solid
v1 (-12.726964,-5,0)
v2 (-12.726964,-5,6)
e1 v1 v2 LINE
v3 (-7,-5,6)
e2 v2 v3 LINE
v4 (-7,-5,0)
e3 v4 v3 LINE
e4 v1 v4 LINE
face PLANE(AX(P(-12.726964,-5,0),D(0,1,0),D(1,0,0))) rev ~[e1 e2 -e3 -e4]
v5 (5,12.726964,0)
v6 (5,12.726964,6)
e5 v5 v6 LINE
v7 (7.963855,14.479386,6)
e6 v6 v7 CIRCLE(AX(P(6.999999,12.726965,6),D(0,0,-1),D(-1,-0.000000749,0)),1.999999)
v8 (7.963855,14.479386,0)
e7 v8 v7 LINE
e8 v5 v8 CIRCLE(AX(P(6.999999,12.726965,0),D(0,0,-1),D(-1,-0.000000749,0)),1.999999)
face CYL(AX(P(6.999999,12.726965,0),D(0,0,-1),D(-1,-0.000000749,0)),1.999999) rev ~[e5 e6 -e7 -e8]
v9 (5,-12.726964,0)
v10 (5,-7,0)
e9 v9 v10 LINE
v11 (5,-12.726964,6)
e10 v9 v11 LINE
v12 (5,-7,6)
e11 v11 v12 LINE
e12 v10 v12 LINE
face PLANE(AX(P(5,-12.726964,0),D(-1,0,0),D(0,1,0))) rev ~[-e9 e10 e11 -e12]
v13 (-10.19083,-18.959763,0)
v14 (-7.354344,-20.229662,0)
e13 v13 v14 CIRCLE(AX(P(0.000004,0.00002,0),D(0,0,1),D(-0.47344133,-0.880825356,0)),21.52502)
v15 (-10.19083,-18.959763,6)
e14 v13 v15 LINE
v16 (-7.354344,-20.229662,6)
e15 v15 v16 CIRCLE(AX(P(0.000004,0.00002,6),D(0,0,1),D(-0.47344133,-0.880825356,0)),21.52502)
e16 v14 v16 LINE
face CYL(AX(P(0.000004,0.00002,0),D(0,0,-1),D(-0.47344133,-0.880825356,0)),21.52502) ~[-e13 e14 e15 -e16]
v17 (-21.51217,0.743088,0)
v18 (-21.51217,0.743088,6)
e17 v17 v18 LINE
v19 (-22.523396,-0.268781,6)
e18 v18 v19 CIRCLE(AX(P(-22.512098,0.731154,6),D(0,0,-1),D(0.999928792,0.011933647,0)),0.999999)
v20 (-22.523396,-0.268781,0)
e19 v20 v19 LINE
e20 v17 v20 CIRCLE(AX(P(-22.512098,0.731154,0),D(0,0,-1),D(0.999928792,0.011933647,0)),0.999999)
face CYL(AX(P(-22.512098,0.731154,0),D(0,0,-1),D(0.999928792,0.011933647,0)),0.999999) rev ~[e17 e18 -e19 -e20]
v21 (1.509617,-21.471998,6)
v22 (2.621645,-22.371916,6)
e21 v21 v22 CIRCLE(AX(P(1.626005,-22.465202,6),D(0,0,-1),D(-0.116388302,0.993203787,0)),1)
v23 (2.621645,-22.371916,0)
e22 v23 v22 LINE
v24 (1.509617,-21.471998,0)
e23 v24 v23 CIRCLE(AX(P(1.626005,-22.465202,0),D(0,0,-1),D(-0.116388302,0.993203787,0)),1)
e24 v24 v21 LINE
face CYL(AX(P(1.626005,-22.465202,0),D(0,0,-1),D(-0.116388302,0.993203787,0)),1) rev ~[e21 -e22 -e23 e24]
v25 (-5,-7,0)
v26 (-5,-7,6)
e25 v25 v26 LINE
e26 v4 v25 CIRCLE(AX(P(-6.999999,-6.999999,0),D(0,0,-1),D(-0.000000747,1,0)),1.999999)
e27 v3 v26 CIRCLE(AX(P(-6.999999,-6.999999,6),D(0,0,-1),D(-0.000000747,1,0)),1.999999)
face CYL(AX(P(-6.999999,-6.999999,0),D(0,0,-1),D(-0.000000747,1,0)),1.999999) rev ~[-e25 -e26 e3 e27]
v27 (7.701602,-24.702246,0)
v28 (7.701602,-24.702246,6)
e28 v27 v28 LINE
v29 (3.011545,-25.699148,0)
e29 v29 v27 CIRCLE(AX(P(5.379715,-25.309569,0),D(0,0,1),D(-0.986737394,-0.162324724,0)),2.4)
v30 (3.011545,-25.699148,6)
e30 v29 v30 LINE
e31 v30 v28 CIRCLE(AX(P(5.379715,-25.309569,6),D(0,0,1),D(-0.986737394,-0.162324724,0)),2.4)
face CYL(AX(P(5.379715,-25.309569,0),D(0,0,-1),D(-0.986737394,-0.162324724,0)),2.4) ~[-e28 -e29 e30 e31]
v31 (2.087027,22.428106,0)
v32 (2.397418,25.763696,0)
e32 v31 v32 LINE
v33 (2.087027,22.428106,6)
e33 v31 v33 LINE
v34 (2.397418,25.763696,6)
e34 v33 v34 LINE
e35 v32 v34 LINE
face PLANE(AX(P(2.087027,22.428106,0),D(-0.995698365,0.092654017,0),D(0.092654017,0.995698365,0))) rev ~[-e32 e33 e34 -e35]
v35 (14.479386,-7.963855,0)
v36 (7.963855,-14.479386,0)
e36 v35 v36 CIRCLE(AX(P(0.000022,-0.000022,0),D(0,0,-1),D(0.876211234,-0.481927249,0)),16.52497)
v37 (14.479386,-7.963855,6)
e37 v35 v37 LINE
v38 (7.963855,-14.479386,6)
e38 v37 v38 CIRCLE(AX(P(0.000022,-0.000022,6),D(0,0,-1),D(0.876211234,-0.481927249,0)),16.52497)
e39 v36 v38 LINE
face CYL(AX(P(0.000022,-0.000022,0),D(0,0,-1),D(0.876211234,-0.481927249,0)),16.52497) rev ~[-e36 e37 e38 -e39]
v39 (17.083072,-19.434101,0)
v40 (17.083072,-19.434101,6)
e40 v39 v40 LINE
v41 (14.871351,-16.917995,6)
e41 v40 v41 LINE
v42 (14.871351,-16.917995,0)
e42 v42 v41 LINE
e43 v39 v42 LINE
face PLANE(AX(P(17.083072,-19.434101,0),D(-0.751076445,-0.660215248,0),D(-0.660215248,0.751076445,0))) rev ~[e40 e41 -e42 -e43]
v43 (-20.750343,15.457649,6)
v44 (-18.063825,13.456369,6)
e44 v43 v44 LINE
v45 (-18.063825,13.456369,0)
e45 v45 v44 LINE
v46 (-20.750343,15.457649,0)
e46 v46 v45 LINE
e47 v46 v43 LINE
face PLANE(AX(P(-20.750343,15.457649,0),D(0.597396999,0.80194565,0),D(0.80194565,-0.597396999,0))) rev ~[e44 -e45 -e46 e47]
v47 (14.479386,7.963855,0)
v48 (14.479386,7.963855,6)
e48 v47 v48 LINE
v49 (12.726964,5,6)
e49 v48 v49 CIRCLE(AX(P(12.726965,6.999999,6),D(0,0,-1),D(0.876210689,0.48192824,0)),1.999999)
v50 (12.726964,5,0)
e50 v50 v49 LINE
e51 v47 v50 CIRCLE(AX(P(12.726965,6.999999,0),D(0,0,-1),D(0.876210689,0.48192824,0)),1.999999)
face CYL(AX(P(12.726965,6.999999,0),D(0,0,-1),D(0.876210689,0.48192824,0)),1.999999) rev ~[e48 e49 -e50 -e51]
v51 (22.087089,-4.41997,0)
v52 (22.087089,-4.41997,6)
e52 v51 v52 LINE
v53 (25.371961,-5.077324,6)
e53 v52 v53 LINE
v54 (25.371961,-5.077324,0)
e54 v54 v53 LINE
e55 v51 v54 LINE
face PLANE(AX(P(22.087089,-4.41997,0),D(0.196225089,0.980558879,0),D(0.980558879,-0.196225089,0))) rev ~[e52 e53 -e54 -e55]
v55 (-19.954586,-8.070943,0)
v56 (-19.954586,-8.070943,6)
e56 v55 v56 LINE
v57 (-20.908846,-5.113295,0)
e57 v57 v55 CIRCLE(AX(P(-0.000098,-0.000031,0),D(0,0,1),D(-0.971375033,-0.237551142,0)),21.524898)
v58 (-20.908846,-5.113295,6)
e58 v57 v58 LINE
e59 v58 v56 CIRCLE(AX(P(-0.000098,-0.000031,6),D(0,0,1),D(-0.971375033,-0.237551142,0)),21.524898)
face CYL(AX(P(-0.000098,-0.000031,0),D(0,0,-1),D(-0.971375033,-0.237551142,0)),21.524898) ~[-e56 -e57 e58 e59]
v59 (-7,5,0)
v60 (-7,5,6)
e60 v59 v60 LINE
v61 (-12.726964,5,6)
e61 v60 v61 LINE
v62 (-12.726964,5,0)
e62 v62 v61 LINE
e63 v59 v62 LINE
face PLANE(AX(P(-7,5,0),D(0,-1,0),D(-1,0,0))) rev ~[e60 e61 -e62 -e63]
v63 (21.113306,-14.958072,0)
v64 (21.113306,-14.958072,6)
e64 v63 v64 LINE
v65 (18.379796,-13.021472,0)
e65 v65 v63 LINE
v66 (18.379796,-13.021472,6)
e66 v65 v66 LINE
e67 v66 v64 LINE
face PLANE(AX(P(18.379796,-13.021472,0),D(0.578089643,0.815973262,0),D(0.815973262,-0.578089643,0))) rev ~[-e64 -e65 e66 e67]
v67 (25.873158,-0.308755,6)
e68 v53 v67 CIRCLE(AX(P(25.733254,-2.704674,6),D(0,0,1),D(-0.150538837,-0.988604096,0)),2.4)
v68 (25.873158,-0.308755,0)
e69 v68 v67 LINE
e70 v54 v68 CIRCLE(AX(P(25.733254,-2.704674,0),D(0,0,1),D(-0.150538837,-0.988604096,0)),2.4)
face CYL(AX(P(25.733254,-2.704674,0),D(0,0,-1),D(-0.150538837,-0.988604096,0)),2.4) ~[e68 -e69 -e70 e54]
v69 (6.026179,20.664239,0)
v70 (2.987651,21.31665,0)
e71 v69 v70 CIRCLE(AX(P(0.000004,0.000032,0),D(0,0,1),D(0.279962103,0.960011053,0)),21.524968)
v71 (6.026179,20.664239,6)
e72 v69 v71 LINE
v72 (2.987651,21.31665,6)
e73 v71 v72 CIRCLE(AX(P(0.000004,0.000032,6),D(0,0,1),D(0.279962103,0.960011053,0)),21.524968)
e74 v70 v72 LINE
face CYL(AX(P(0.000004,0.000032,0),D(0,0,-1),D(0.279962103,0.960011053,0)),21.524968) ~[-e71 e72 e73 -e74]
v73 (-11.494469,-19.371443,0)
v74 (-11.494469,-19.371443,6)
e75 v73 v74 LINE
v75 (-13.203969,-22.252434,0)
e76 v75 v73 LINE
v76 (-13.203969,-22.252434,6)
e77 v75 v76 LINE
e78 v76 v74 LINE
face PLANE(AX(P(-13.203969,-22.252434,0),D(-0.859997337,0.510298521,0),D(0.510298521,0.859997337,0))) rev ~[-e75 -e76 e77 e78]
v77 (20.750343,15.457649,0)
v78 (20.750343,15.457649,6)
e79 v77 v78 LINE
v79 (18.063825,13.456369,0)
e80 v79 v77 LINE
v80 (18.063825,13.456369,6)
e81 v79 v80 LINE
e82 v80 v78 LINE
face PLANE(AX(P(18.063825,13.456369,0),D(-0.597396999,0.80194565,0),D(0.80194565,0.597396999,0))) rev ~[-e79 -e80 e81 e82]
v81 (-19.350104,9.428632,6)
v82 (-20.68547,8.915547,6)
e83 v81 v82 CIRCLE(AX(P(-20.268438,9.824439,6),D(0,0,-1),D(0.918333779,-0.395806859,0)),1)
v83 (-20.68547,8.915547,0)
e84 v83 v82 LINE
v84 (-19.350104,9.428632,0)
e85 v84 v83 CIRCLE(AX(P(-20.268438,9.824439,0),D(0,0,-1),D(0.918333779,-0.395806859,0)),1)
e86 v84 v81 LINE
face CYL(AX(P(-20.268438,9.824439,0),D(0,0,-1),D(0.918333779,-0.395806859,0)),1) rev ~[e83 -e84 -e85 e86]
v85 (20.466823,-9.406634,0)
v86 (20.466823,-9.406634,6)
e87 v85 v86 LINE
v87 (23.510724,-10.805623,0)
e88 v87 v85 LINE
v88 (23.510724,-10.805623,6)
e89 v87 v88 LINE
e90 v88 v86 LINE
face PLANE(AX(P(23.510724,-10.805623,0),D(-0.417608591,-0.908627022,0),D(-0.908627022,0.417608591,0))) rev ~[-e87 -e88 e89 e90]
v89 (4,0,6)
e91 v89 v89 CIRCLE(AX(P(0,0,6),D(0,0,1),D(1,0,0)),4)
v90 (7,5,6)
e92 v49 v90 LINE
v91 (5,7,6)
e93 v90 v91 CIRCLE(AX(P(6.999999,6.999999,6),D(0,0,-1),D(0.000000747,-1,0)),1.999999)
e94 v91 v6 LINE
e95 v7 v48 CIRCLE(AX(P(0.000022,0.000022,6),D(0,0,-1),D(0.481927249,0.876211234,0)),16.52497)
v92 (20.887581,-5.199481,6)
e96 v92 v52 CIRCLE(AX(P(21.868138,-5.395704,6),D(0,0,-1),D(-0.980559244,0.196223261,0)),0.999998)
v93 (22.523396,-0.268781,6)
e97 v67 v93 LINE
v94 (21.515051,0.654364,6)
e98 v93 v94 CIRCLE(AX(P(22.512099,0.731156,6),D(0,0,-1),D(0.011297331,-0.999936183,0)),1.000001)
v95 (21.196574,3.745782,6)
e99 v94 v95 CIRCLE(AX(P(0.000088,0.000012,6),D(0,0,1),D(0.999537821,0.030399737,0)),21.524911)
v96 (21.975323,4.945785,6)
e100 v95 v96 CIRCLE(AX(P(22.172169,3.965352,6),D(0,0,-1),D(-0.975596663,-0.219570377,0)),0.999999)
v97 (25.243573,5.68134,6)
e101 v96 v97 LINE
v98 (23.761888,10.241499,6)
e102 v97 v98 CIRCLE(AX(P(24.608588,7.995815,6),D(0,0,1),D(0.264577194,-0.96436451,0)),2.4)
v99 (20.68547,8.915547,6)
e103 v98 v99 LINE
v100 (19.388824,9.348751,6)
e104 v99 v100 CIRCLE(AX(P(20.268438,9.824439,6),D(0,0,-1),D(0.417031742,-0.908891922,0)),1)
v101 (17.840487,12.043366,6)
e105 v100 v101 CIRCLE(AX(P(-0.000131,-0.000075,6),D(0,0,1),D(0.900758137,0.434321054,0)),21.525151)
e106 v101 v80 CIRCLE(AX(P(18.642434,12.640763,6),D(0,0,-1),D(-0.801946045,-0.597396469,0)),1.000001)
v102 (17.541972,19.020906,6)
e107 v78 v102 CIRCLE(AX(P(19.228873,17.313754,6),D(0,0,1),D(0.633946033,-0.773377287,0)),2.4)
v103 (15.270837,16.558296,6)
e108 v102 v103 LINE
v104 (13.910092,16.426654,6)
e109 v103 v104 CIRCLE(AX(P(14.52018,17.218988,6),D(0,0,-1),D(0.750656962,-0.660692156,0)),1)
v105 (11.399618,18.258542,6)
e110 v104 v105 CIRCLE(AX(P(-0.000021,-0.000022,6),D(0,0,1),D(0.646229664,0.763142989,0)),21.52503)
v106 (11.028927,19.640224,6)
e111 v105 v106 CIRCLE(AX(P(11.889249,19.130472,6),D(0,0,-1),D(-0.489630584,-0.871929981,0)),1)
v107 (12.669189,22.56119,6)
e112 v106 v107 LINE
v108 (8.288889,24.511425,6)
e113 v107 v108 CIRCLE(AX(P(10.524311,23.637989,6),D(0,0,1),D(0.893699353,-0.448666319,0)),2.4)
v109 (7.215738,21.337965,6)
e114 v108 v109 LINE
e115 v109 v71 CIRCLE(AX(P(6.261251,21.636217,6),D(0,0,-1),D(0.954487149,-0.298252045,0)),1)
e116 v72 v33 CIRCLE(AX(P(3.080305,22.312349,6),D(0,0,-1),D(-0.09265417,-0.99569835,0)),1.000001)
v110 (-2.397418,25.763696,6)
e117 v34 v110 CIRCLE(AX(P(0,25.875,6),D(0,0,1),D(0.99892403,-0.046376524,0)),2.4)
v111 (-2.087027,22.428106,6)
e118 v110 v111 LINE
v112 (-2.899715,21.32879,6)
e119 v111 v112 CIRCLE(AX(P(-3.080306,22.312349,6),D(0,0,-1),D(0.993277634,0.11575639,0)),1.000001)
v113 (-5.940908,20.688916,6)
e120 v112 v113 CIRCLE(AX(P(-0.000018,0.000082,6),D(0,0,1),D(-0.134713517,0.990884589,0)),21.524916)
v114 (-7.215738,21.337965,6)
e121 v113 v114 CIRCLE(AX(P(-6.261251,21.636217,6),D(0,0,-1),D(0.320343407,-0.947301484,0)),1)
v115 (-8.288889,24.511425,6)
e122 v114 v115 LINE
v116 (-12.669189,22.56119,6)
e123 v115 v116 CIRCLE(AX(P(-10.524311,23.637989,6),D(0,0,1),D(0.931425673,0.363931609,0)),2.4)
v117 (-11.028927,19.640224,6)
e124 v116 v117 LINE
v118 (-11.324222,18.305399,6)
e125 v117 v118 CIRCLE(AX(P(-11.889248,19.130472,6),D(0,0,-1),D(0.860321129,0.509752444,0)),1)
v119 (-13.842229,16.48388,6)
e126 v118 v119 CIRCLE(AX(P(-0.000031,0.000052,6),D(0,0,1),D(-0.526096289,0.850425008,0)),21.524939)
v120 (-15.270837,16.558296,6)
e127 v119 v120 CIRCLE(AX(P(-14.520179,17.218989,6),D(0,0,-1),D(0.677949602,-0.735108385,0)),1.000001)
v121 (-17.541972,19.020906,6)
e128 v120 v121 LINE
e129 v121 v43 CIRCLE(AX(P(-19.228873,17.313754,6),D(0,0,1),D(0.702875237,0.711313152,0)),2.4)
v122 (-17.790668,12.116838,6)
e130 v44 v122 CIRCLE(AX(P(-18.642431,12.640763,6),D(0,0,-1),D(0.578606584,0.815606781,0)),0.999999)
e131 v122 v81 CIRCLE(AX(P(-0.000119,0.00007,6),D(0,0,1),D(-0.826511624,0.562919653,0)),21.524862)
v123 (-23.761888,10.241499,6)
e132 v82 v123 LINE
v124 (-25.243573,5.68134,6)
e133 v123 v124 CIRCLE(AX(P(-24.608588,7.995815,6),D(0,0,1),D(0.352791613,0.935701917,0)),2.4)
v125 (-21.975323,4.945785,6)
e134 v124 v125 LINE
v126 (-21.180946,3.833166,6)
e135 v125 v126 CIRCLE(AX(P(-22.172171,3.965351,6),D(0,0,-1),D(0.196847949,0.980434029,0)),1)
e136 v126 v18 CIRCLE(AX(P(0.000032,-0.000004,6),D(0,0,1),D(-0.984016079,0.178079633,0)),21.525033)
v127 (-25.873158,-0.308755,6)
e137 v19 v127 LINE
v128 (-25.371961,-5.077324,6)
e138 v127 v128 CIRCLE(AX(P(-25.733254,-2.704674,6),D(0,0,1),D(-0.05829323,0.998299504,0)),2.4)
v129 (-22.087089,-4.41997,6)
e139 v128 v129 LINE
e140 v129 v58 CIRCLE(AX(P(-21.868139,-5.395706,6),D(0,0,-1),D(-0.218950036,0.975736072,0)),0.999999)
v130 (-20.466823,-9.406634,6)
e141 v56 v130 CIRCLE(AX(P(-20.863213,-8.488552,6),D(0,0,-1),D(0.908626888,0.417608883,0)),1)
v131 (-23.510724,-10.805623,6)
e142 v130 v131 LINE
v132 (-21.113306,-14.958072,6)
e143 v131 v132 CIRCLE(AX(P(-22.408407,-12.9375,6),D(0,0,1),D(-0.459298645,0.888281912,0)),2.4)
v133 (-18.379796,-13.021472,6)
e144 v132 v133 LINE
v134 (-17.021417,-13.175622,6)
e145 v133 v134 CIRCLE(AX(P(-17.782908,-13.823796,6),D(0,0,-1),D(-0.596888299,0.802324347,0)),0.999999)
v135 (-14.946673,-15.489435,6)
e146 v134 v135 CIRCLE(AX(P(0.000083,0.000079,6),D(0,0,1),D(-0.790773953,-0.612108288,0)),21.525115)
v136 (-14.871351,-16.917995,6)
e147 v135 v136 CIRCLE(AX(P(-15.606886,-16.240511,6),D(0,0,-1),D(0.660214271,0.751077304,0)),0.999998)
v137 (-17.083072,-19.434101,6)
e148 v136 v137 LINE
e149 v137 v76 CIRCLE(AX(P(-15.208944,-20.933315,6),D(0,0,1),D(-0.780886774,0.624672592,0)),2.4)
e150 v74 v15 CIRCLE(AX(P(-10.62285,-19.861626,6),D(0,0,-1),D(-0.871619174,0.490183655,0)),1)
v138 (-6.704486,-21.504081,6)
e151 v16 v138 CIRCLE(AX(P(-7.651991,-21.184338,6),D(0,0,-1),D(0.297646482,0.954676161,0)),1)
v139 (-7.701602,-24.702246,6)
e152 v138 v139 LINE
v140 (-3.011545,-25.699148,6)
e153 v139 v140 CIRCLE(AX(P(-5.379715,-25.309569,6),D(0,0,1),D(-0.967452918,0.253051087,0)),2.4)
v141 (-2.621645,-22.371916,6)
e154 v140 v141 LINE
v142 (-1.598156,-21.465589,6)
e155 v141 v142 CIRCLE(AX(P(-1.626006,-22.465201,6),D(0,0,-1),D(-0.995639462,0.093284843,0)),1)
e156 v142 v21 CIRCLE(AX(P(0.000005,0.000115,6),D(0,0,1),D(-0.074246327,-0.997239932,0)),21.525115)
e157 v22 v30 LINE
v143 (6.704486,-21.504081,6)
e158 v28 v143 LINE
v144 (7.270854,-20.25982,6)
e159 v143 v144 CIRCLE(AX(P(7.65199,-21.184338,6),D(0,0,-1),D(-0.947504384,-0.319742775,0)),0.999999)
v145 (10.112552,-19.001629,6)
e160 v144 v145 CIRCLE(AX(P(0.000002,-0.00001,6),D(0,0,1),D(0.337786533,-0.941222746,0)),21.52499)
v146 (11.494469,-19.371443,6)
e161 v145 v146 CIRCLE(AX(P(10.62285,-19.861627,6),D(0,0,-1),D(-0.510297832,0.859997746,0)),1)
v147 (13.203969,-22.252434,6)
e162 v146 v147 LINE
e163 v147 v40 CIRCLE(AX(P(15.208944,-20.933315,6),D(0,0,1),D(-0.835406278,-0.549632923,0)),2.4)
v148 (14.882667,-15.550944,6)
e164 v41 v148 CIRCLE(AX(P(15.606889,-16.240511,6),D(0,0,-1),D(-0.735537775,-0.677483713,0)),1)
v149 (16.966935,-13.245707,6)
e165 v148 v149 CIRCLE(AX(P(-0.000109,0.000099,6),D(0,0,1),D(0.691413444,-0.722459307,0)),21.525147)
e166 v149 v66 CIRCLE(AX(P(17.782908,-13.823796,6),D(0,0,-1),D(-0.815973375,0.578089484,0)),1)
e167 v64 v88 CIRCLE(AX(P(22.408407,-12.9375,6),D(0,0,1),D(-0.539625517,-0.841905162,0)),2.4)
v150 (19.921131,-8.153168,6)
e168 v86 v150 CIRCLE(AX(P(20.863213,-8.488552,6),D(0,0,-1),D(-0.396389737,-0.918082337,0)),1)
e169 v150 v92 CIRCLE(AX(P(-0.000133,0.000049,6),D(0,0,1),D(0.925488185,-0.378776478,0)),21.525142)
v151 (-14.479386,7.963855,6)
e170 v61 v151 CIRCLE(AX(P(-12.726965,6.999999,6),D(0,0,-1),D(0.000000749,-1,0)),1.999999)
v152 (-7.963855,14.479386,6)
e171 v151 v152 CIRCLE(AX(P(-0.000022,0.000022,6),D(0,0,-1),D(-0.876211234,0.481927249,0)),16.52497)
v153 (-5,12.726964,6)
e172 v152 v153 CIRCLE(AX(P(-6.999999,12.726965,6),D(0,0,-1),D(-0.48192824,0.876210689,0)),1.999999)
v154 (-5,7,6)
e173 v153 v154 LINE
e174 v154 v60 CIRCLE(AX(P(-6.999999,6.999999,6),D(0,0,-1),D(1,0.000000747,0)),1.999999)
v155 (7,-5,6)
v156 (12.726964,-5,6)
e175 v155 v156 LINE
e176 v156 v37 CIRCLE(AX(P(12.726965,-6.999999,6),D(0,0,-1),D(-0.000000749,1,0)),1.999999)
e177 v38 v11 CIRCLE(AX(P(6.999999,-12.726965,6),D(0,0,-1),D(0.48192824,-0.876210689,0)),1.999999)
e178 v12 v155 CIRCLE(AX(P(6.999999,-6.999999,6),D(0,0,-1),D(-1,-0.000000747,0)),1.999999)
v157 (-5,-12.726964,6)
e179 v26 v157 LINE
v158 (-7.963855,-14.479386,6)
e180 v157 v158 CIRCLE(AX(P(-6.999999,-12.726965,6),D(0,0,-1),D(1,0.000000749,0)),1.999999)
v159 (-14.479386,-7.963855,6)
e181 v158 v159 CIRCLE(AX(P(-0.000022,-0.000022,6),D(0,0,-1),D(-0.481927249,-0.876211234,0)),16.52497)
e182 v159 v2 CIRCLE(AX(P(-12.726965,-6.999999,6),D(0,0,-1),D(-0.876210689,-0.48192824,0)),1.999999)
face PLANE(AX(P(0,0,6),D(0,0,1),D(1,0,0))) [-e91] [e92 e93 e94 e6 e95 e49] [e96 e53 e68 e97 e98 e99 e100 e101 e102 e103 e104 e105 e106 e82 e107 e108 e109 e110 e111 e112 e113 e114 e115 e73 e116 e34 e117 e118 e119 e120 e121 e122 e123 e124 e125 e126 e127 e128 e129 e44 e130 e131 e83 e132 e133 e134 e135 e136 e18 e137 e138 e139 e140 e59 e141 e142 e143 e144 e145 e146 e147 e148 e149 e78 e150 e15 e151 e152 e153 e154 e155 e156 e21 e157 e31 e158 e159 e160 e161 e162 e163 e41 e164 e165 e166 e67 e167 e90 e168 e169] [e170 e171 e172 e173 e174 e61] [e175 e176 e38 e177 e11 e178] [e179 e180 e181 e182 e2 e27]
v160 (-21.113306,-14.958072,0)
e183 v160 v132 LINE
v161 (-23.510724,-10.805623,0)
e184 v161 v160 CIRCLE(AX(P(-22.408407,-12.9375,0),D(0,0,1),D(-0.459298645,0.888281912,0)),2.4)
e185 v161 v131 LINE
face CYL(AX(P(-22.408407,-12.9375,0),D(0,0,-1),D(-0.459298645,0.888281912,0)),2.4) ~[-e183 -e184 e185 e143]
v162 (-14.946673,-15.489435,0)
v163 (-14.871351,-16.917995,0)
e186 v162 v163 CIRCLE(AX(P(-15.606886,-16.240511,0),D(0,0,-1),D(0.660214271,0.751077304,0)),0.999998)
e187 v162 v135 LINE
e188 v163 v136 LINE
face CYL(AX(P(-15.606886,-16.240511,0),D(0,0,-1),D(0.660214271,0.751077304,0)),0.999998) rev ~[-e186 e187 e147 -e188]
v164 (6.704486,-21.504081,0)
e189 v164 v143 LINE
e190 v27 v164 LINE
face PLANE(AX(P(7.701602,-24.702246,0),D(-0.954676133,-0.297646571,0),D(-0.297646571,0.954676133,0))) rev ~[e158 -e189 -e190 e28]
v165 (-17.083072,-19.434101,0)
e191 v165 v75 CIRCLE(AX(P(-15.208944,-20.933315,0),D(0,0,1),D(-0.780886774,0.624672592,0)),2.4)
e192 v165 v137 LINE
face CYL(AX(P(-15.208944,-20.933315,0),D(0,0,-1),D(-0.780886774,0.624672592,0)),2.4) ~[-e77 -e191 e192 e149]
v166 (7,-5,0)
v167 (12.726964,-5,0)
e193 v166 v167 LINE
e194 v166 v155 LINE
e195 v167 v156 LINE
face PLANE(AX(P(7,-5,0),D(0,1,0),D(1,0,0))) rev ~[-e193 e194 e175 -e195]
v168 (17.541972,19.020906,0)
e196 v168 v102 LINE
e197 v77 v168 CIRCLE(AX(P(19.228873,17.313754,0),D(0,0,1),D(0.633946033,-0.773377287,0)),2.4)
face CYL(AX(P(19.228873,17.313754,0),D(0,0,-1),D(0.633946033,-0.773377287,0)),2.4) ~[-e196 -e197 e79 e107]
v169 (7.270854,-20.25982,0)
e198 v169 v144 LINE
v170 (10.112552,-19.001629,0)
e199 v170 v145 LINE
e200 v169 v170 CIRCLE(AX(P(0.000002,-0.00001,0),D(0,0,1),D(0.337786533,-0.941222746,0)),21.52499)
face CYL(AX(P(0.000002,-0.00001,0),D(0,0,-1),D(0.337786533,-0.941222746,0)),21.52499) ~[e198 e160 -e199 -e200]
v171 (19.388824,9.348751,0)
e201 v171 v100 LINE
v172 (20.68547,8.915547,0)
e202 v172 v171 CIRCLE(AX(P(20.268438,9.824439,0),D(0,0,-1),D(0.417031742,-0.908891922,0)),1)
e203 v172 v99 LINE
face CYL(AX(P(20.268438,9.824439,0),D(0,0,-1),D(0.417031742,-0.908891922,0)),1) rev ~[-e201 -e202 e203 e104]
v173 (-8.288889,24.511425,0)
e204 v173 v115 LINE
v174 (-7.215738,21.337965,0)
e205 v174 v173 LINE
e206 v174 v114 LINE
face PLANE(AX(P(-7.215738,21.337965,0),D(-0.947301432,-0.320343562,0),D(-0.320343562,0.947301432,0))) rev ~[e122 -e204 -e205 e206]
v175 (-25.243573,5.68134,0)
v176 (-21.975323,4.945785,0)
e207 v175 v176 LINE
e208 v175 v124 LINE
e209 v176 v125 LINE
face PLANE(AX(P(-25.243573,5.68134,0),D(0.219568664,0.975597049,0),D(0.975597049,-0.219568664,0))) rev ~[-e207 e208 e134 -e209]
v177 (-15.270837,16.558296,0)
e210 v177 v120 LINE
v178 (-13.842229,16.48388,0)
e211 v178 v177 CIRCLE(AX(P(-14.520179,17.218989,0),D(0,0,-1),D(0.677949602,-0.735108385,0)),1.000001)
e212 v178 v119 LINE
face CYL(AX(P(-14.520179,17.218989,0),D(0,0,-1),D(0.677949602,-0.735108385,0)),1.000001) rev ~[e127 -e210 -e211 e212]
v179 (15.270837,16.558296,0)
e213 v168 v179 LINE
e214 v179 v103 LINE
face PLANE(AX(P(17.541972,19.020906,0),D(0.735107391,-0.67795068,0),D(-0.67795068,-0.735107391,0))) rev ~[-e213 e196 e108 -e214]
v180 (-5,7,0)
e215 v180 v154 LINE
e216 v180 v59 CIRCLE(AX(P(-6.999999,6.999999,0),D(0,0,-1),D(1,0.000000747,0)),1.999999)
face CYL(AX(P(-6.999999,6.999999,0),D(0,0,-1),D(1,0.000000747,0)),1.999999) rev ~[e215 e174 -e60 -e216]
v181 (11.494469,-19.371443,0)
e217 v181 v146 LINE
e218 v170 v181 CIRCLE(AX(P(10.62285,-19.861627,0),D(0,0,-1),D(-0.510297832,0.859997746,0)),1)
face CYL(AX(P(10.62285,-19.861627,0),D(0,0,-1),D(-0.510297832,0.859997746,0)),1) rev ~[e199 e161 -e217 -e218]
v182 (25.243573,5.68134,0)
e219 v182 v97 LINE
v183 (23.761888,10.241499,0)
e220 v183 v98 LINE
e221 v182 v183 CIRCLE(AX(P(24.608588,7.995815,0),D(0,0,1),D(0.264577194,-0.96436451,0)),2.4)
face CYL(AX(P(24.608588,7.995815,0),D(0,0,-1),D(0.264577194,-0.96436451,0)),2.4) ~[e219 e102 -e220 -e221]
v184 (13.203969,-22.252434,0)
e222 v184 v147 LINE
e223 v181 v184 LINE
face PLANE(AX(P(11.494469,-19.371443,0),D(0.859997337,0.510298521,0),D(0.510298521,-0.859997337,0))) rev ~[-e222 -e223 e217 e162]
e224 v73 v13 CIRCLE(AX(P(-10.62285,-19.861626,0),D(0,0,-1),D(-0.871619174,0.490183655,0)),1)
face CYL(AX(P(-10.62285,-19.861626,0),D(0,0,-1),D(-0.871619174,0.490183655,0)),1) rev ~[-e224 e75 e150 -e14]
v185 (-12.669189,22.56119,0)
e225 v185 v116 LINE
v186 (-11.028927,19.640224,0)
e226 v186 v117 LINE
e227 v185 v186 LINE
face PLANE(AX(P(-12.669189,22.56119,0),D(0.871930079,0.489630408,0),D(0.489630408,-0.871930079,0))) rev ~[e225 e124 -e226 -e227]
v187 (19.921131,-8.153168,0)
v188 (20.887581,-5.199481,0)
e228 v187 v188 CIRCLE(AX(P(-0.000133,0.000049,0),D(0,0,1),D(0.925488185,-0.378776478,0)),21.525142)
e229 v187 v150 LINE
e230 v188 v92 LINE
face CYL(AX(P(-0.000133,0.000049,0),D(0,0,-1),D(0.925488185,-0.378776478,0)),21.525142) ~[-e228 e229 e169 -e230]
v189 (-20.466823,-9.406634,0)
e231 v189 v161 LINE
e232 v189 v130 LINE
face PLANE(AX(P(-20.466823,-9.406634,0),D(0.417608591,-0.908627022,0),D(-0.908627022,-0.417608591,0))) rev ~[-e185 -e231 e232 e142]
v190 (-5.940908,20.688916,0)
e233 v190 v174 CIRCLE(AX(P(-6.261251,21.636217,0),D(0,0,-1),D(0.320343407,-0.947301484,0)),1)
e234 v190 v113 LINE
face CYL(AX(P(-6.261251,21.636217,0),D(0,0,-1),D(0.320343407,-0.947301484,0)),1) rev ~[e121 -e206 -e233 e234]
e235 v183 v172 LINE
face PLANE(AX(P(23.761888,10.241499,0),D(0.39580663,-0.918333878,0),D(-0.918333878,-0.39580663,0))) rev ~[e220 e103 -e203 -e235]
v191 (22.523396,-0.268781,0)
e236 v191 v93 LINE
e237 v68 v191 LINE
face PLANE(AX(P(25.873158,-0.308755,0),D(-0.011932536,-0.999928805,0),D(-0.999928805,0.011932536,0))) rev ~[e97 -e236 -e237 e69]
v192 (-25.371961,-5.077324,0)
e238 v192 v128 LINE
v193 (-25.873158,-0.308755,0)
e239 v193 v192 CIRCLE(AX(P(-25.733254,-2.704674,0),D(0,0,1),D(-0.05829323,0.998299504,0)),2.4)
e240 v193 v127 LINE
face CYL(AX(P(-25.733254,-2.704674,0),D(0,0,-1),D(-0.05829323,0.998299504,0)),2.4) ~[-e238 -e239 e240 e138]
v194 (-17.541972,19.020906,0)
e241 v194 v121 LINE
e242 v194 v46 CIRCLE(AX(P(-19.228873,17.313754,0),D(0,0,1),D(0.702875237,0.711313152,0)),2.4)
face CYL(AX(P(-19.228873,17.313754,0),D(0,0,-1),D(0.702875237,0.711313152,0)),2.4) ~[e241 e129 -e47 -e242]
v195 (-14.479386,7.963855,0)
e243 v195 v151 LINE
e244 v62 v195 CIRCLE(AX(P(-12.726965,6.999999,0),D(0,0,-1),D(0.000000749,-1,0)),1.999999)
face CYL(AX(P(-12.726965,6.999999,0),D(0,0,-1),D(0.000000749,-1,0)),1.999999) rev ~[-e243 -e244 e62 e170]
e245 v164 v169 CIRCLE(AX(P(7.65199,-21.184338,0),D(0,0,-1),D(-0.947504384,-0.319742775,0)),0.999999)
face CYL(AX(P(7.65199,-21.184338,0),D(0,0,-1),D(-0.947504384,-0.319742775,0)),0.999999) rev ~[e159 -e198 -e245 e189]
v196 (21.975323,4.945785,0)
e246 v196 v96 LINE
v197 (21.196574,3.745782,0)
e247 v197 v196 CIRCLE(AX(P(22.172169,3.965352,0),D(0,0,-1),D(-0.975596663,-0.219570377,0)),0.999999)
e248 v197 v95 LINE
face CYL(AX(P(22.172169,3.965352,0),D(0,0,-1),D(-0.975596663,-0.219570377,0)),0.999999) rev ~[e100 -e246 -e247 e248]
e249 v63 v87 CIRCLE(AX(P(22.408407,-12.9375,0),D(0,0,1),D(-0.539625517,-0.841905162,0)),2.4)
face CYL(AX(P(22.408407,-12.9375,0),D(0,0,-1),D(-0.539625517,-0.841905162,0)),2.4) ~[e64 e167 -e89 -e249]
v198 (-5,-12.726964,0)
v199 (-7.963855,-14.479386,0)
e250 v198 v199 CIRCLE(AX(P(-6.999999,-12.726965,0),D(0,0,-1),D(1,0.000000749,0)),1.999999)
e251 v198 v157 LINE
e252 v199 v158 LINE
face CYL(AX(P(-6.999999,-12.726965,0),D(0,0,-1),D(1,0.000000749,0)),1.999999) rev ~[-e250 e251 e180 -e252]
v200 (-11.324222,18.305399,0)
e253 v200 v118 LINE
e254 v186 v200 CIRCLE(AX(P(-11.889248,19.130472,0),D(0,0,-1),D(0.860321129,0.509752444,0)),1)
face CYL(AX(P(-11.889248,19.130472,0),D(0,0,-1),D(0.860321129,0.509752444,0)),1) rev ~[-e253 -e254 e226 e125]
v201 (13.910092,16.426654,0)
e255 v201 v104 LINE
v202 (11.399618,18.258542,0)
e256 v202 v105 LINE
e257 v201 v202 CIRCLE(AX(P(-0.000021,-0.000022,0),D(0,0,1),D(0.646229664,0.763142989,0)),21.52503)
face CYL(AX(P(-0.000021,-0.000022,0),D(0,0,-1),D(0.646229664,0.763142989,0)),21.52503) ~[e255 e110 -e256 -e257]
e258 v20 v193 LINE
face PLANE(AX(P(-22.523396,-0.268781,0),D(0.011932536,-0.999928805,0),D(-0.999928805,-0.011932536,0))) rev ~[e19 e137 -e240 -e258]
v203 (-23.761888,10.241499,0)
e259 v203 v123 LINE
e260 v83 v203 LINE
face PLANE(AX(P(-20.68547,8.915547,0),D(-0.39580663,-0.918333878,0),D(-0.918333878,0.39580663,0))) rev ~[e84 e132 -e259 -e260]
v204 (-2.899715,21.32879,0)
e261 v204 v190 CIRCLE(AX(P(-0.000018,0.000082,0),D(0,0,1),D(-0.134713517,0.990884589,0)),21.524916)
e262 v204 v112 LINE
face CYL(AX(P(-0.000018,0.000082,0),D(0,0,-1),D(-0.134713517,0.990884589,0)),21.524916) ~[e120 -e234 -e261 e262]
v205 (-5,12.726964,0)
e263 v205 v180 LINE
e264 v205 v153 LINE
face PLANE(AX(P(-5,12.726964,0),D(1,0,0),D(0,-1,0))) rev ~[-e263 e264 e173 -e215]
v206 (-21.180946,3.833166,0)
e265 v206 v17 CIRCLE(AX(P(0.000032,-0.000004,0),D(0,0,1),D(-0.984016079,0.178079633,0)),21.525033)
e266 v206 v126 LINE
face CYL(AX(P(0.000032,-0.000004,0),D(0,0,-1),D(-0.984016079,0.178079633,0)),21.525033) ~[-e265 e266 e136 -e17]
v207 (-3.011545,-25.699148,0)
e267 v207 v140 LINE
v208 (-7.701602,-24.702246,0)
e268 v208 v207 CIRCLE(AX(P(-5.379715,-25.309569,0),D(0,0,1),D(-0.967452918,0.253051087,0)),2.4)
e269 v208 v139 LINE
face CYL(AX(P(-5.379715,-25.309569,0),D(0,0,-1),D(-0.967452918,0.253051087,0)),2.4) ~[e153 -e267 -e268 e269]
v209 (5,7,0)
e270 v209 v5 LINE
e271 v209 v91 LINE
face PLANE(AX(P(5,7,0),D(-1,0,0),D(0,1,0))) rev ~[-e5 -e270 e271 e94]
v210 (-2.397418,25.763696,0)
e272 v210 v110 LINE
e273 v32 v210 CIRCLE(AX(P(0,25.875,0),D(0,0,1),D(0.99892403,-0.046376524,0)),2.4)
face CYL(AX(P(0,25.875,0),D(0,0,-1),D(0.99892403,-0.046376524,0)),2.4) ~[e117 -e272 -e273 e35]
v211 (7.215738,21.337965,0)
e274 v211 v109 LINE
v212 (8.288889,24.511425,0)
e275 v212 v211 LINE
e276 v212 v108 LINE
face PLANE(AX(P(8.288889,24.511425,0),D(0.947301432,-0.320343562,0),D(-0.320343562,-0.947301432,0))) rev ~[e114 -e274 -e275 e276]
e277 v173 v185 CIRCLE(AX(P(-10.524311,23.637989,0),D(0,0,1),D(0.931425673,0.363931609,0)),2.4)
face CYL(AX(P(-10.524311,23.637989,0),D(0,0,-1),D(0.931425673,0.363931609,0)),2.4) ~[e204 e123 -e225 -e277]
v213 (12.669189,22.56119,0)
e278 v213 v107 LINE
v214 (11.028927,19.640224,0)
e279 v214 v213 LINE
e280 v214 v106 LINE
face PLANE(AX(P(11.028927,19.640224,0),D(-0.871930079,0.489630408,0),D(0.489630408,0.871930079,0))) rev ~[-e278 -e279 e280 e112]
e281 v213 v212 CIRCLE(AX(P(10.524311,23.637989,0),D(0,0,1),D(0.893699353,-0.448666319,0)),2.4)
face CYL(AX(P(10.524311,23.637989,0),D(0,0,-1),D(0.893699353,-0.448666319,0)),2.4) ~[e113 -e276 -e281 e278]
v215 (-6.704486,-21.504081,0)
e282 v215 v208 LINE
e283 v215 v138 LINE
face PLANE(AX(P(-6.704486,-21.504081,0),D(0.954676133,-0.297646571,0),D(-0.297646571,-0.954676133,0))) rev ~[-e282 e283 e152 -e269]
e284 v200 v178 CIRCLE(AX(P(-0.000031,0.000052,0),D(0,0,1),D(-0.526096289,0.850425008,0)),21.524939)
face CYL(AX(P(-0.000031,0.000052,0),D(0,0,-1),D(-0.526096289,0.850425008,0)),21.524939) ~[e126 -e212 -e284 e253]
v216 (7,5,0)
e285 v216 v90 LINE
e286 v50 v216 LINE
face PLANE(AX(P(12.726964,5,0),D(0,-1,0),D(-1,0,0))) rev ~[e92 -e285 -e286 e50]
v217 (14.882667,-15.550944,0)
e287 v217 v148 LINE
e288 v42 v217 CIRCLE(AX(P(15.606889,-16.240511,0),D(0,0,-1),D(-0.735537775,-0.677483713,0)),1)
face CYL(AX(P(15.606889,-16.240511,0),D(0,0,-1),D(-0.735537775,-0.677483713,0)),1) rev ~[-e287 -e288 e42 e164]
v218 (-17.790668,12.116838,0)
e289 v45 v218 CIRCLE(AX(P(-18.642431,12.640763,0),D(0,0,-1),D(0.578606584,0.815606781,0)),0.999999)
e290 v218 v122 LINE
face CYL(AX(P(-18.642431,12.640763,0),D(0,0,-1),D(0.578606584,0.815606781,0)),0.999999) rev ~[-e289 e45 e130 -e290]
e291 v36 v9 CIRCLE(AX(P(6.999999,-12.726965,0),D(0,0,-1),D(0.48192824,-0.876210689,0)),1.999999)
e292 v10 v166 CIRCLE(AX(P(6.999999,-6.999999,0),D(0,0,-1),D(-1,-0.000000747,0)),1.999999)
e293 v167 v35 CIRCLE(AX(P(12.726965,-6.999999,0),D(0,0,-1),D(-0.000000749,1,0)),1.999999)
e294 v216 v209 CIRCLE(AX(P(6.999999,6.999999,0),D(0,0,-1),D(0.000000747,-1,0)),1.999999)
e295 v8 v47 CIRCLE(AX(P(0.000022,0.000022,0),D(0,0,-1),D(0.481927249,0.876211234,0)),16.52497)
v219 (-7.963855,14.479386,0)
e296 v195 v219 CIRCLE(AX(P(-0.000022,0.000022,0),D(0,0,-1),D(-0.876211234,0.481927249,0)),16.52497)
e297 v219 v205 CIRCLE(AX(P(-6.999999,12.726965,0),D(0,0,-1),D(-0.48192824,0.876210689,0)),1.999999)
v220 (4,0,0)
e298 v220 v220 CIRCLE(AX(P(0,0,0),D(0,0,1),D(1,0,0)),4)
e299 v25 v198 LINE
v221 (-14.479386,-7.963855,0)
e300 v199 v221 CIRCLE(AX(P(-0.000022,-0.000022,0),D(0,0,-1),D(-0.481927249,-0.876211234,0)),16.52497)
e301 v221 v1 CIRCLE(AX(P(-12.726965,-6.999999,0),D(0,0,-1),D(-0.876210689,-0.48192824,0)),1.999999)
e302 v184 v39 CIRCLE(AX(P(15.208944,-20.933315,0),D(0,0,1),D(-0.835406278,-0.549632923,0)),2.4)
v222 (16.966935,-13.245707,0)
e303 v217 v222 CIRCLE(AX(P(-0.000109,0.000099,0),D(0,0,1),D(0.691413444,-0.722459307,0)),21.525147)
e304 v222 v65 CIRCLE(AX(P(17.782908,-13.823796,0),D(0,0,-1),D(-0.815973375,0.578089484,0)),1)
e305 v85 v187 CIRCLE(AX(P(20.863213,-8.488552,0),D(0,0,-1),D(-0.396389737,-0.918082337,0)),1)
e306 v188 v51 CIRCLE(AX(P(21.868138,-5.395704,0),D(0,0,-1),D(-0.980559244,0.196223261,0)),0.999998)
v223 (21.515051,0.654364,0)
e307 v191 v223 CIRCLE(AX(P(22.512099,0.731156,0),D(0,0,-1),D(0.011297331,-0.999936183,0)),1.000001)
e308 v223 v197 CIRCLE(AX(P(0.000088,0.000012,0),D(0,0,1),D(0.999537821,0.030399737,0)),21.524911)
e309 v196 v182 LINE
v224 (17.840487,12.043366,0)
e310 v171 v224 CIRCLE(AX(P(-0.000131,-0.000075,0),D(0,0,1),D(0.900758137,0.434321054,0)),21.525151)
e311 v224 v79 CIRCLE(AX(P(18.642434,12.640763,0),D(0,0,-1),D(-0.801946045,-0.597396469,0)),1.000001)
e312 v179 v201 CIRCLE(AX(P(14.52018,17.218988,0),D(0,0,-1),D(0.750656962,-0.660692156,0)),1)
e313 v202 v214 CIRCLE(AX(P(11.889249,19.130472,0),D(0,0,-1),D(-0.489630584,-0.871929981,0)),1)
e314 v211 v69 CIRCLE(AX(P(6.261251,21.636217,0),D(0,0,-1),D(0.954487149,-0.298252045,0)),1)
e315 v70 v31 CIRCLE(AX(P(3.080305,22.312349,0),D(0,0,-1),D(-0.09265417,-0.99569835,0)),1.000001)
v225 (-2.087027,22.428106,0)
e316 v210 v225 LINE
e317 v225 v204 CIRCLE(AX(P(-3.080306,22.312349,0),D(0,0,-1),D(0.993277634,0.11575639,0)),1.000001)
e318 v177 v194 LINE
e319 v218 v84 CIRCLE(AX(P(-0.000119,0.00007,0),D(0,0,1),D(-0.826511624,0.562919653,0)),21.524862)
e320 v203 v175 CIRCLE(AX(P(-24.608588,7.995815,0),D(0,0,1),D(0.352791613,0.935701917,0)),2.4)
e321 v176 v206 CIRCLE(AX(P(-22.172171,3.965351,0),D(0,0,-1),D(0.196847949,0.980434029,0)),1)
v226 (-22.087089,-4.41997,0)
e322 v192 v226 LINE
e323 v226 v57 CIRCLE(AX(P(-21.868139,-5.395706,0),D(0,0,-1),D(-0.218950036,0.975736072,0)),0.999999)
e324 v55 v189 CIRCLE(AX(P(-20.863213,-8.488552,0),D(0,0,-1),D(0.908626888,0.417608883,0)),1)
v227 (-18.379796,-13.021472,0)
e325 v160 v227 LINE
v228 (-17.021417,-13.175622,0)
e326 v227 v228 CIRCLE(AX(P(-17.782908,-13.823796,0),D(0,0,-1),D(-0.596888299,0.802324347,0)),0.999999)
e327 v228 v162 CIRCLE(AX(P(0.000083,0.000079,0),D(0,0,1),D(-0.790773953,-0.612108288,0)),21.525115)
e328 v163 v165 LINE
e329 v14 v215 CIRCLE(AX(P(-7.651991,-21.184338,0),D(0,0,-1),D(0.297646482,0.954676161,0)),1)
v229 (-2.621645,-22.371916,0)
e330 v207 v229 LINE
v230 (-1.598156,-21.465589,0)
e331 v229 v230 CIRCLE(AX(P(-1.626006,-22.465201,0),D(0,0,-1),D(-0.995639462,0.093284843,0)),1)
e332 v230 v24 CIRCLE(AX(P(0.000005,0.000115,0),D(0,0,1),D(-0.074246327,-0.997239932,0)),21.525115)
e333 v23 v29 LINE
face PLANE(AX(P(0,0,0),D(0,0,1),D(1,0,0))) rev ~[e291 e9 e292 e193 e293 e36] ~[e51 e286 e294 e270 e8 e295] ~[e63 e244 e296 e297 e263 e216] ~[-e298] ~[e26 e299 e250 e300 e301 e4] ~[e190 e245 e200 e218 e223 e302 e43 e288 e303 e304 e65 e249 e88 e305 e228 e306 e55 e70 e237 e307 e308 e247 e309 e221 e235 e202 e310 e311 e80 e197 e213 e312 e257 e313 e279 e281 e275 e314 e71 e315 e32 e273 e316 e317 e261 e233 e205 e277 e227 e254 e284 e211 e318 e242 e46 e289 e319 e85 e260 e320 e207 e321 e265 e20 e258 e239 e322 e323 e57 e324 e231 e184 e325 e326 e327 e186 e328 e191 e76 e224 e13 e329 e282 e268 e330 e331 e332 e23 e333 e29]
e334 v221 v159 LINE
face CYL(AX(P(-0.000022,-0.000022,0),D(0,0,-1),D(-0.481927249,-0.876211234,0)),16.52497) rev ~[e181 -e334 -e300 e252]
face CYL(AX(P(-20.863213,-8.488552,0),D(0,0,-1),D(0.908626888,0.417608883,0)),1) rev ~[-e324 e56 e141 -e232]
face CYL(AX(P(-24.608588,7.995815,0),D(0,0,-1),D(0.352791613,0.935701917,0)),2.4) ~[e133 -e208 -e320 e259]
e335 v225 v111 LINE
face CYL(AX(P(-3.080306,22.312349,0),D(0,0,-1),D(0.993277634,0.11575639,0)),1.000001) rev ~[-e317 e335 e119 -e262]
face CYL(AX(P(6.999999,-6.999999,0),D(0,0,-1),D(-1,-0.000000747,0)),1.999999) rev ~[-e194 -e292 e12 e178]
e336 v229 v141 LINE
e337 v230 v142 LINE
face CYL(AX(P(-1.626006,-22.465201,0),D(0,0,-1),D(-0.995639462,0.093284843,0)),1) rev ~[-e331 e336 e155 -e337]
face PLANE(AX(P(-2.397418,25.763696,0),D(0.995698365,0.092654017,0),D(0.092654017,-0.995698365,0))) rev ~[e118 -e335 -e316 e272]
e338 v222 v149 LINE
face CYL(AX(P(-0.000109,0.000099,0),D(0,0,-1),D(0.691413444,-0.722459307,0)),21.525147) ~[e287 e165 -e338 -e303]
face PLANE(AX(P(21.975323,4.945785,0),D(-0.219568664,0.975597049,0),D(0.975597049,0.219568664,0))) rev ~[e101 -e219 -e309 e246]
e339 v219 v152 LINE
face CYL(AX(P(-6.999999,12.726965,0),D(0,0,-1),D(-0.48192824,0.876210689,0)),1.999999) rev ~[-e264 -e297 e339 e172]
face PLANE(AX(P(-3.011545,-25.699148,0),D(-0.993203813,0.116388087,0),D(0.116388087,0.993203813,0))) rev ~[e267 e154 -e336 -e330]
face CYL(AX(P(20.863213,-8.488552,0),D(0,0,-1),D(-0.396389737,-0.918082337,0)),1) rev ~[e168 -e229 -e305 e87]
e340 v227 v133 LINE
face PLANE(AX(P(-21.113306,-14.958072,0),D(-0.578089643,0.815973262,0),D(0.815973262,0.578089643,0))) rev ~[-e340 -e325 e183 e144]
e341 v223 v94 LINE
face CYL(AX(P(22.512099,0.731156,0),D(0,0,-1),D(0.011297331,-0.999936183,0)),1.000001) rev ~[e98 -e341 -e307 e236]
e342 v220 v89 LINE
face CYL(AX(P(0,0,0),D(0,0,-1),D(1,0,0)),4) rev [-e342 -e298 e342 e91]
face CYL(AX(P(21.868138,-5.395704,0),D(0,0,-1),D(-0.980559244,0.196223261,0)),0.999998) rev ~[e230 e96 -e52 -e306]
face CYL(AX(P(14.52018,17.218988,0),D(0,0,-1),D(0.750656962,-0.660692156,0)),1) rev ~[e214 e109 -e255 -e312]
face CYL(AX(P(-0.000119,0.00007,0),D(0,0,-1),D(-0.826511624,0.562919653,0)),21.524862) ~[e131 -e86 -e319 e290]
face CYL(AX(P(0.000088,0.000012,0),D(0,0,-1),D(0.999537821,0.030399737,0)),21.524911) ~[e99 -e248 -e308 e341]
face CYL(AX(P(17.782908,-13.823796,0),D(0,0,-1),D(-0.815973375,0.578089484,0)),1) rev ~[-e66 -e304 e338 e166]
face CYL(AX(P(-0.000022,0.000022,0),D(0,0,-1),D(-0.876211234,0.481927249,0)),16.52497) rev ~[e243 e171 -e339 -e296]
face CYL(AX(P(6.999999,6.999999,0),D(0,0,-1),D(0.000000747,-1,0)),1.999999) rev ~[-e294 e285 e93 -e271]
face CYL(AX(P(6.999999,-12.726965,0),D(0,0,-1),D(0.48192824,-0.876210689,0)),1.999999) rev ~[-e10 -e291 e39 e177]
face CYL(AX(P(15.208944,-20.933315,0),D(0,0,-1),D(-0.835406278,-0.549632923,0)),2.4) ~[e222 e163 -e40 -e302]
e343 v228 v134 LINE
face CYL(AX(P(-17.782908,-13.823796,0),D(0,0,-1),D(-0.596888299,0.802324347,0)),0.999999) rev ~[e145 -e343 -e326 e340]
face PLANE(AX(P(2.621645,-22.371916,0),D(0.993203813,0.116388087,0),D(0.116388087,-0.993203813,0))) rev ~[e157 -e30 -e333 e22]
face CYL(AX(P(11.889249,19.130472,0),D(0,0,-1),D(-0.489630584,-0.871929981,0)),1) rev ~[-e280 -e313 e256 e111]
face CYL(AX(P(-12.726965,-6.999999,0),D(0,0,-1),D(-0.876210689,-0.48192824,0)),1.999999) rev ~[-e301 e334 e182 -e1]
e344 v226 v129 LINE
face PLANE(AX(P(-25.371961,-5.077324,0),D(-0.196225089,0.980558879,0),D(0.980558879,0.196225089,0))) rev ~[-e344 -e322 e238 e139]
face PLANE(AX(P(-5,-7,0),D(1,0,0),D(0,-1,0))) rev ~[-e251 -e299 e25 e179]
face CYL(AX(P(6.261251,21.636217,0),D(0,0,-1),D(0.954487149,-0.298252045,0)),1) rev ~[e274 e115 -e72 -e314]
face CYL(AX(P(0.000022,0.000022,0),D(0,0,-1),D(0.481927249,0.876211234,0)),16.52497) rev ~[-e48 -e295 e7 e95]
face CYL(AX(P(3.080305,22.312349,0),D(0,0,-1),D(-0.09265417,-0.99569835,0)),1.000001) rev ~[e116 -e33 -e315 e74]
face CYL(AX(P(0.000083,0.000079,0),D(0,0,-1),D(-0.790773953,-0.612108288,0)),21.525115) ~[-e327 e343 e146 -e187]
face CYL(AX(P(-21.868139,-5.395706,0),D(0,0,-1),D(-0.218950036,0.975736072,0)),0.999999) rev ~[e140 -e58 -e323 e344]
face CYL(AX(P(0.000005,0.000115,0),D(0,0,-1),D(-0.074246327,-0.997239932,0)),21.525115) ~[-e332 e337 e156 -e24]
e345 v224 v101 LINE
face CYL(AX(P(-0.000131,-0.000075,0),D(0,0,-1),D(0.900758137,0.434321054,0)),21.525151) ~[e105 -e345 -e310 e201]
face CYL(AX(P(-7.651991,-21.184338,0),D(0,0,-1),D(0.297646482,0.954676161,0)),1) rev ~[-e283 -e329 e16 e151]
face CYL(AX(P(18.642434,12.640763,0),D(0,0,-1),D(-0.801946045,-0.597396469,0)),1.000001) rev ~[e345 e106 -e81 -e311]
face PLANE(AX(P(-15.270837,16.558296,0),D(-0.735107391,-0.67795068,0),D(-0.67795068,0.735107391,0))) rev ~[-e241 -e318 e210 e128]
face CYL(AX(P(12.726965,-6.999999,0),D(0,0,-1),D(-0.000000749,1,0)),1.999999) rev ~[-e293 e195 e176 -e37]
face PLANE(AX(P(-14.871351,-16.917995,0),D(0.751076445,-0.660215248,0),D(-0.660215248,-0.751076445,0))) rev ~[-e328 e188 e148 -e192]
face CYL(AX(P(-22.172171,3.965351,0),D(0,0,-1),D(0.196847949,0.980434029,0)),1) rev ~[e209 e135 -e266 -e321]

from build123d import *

# Parameters (mm, degrees)
F0_R     = 4
F1_DEPTH = 6


with BuildPart() as f1:
    # F0 (on Top) → F1 (new body)
    with BuildSketch(Plane.XY):
        with BuildLine():
            ThreePointArc((2.397418, 25.763696), (0, 28.275), (-2.397418, 25.763696))
            Line((-2.397418, 25.763696), (-2.087027, 22.428106))
            ThreePointArc((-2.087027, 22.428106), (-2.276181, 21.717887), (-2.899715, 21.32879))
            ThreePointArc((-2.899715, 21.32879), (-4.431874, 21.063811), (-5.940908, 20.688916))
            ThreePointArc((-5.940908, 20.688916), (-6.714959, 20.745067), (-7.215738, 21.337965))
            Line((-7.215738, 21.337965), (-8.288889, 24.511425))
            ThreePointArc((-8.288889, 24.511425), (-11.500479, 25.830498), (-12.669189, 22.56119))
            Line((-12.669189, 22.56119), (-11.028927, 19.640224))
            ThreePointArc((-11.028927, 19.640224), (-10.912855, 18.914471), (-11.324222, 18.305399))
            ThreePointArc((-11.324222, 18.305399), (-12.616142, 17.440143), (-13.842229, 16.48388))
            ThreePointArc((-13.842229, 16.48388), (-14.572199, 16.220342), (-15.270837, 16.558296))
            Line((-15.270837, 16.558296), (-17.541972, 19.020906))
            ThreePointArc((-17.541972, 19.020906), (-21.01242, 18.919668), (-20.750343, 15.457649))
            Line((-20.750343, 15.457649), (-18.063825, 13.456369))
            ThreePointArc((-18.063825, 13.456369), (-17.662597, 12.840571), (-17.790668, 12.116838))
            ThreePointArc((-17.790668, 12.116838), (-18.618965, 10.800916), (-19.350104, 9.428632))
            ThreePointArc((-19.350104, 9.428632), (-19.909774, 8.890972), (-20.68547, 8.915547))
            Line((-20.68547, 8.915547), (-23.761888, 10.241499))
            ThreePointArc((-23.761888, 10.241499), (-26.891123, 8.737456), (-25.243573, 5.68134))
            Line((-25.243573, 5.68134), (-21.975323, 4.945785))
            ThreePointArc((-21.975323, 4.945785), (-21.358316, 4.546419), (-21.180946, 3.833166))
            ThreePointArc((-21.180946, 3.833166), (-21.402399, 2.294112), (-21.51217, 0.743088))
            ThreePointArc((-21.51217, 0.743088), (-21.804767, 0.024273), (-22.523396, -0.268781))
            Line((-22.523396, -0.268781), (-25.873158, -0.308755))
            ThreePointArc((-25.873158, -0.308755), (-28.120107, -2.955542), (-25.371961, -5.077324))
            Line((-25.371961, -5.077324), (-22.087089, -4.41997))
            ThreePointArc((-22.087089, -4.41997), (-21.360988, -4.533849), (-20.908846, -5.113295))
            ThreePointArc((-20.908846, -5.113295), (-20.485164, -6.609364), (-19.954586, -8.070943))
            ThreePointArc((-19.954586, -8.070943), (-19.929519, -8.846624), (-20.466823, -9.406634))
            Line((-20.466823, -9.406634), (-23.510724, -10.805623))
            ThreePointArc((-23.510724, -10.805623), (-24.486868, -14.1375), (-21.113306, -14.958072))
            Line((-21.113306, -14.958072), (-18.379796, -13.021472))
            ThreePointArc((-18.379796, -13.021472), (-17.670151, -12.830174), (-17.021417, -13.175622))
            ThreePointArc((-17.021417, -13.175622), (-16.025858, -14.370021), (-14.946673, -15.489435))
            ThreePointArc((-14.946673, -15.489435), (-14.608275, -16.187858), (-14.871351, -16.917995))
            Line((-14.871351, -16.917995), (-17.083072, -19.434101))
            ThreePointArc((-17.083072, -19.434101), (-16.619628, -22.874956), (-13.203969, -22.252434))
            Line((-13.203969, -22.252434), (-11.494469, -19.371443))
            ThreePointArc((-11.494469, -19.371443), (-10.923984, -18.908045), (-10.19083, -18.959763))
            ThreePointArc((-10.19083, -18.959763), (-8.795535, -19.645971), (-7.354344, -20.229662))
            ThreePointArc((-7.354344, -20.229662), (-6.761128, -20.730065), (-6.704486, -21.504081))
            Line((-6.704486, -21.504081), (-7.701602, -24.702246))
            ThreePointArc((-7.701602, -24.702246), (-5.878703, -27.657123), (-3.011545, -25.699148))
            Line((-3.011545, -25.699148), (-2.621645, -22.371916))
            ThreePointArc((-2.621645, -22.371916), (-2.288962, -21.716543), (-1.598156, -21.465589))
            ThreePointArc((-1.598156, -21.465589), (-0.044385, -21.524954), (1.509617, -21.471998))
            ThreePointArc((1.509617, -21.471998), (2.255079, -21.687856), (2.621645, -22.371916))
            Line((2.621645, -22.371916), (3.011545, -25.699148))
            ThreePointArc((3.011545, -25.699148), (5.878703, -27.657123), (7.701602, -24.702246))
            Line((7.701602, -24.702246), (6.704486, -21.504081))
            ThreePointArc((6.704486, -21.504081), (6.741843, -20.770054), (7.270854, -20.25982))
            ThreePointArc((7.270854, -20.25982), (8.71444, -19.682077), (10.112552, -19.001629))
            ThreePointArc((10.112552, -19.001629), (10.881363, -18.895619), (11.494469, -19.371443))
            Line((11.494469, -19.371443), (13.203969, -22.252434))
            ThreePointArc((13.203969, -22.252434), (16.619628, -22.874956), (17.083072, -19.434101))
            Line((17.083072, -19.434101), (14.871351, -16.917995))
            ThreePointArc((14.871351, -16.917995), (14.606923, -16.232234), (14.882667, -15.550944))
            ThreePointArc((14.882667, -15.550944), (15.966459, -14.43599), (16.966935, -13.245707))
            ThreePointArc((16.966935, -13.245707), (17.62616, -12.836158), (18.379796, -13.021472))
            Line((18.379796, -13.021472), (21.113306, -14.958072))
            ThreePointArc((21.113306, -14.958072), (24.486868, -14.1375), (23.510724, -10.805623))
            Line((23.510724, -10.805623), (20.466823, -9.406634))
            ThreePointArc((20.466823, -9.406634), (19.946332, -8.887713), (19.921131, -8.153168))
            ThreePointArc((19.921131, -8.153168), (20.457732, -6.693789), (20.887581, -5.199481))
            ThreePointArc((20.887581, -5.199481), (21.323234, -4.557208), (22.087089, -4.41997))
            Line((22.087089, -4.41997), (25.371961, -5.077324))
            ThreePointArc((25.371961, -5.077324), (28.120107, -2.955542), (25.873158, -0.308755))
            Line((25.873158, -0.308755), (22.523396, -0.268781))
            ThreePointArc((22.523396, -0.268781), (21.83684, -0.006426), (21.515051, 0.654364))
            ThreePointArc((21.515051, 0.654364), (21.411678, 2.205828), (21.196574, 3.745782))
            ThreePointArc((21.196574, 3.745782), (21.333327, 4.509724), (21.975323, 4.945785))
            Line((21.975323, 4.945785), (25.243573, 5.68134))
            ThreePointArc((25.243573, 5.68134), (26.891123, 8.737456), (23.761888, 10.241499))
            Line((23.761888, 10.241499), (20.68547, 8.915547))
            ThreePointArc((20.68547, 8.915547), (19.951559, 8.875973), (19.388824, 9.348751))
            ThreePointArc((19.388824, 9.348751), (18.66335, 10.724038), (17.840487, 12.043366))
            ThreePointArc((17.840487, 12.043366), (17.654695, 12.796884), (18.063825, 13.456369))
            Line((18.063825, 13.456369), (20.750343, 15.457649))
            ThreePointArc((20.750343, 15.457649), (21.01242, 18.919668), (17.541972, 19.020906))
            Line((17.541972, 19.020906), (15.270837, 16.558296))
            ThreePointArc((15.270837, 16.558296), (14.616473, 16.223635), (13.910092, 16.426654))
            ThreePointArc((13.910092, 16.426654), (12.687959, 17.387965), (11.399618, 18.258542))
            ThreePointArc((11.399618, 18.258542), (10.923405, 18.871346), (11.028927, 19.640224))
            Line((11.028927, 19.640224), (12.669189, 22.56119))
            ThreePointArc((12.669189, 22.56119), (11.500479, 25.830498), (8.288889, 24.511425))
            Line((8.288889, 24.511425), (7.215738, 21.337965))
            ThreePointArc((7.215738, 21.337965), (6.754066, 20.766083), (6.026179, 20.664239))
            ThreePointArc((6.026179, 20.664239), (4.518705, 21.045354), (2.987651, 21.31665))
            ThreePointArc((2.987651, 21.31665), (2.303359, 21.682781), (2.087027, 22.428106))
            Line((2.087027, 22.428106), (2.397418, 25.763696))
        make_face()
        with BuildLine():
            ThreePointArc((-14.479386, -7.963855), (-14.44855, -5.982088), (-12.726964, -5))
            Line((-12.726964, -5), (-7, -5))
            ThreePointArc((-7, -5), (-5.585786, -5.585786), (-5, -7))
            Line((-5, -7), (-5, -12.726964))
            ThreePointArc((-5, -12.726964), (-5.982088, -14.44855), (-7.963855, -14.479386))
            ThreePointArc((-7.963855, -14.479386), (-11.68494, -11.68494), (-14.479386, -7.963855))
        make_face(mode=Mode.SUBTRACT)
        with BuildLine():
            ThreePointArc((7.963855, -14.479386), (5.982088, -14.44855), (5, -12.726964))
            Line((5, -12.726964), (5, -7))
            ThreePointArc((5, -7), (5.585786, -5.585786), (7, -5))
            Line((7, -5), (12.726964, -5))
            ThreePointArc((12.726964, -5), (14.44855, -5.982088), (14.479386, -7.963855))
            ThreePointArc((14.479386, -7.963855), (11.68494, -11.68494), (7.963855, -14.479386))
        make_face(mode=Mode.SUBTRACT)
        Circle(F0_R, mode=Mode.SUBTRACT)
        with BuildLine():
            ThreePointArc((-7.963855, 14.479386), (-5.982088, 14.44855), (-5, 12.726964))
            Line((-5, 12.726964), (-5, 7))
            ThreePointArc((-5, 7), (-5.585786, 5.585786), (-7, 5))
            Line((-7, 5), (-12.726964, 5))
            ThreePointArc((-12.726964, 5), (-14.44855, 5.982088), (-14.479386, 7.963855))
            ThreePointArc((-14.479386, 7.963855), (-11.68494, 11.68494), (-7.963855, 14.479386))
        make_face(mode=Mode.SUBTRACT)
        with BuildLine():
            ThreePointArc((14.479386, 7.963855), (14.44855, 5.982088), (12.726964, 5))
            Line((12.726964, 5), (7, 5))
            ThreePointArc((7, 5), (5.585786, 5.585786), (5, 7))
            Line((5, 7), (5, 12.726964))
            ThreePointArc((5, 12.726964), (5.982088, 14.44855), (7.963855, 14.479386))
            ThreePointArc((7.963855, 14.479386), (11.68494, 11.68494), (14.479386, 7.963855))
        make_face(mode=Mode.SUBTRACT)
    extrude(amount=F1_DEPTH)


solid = f1.part
